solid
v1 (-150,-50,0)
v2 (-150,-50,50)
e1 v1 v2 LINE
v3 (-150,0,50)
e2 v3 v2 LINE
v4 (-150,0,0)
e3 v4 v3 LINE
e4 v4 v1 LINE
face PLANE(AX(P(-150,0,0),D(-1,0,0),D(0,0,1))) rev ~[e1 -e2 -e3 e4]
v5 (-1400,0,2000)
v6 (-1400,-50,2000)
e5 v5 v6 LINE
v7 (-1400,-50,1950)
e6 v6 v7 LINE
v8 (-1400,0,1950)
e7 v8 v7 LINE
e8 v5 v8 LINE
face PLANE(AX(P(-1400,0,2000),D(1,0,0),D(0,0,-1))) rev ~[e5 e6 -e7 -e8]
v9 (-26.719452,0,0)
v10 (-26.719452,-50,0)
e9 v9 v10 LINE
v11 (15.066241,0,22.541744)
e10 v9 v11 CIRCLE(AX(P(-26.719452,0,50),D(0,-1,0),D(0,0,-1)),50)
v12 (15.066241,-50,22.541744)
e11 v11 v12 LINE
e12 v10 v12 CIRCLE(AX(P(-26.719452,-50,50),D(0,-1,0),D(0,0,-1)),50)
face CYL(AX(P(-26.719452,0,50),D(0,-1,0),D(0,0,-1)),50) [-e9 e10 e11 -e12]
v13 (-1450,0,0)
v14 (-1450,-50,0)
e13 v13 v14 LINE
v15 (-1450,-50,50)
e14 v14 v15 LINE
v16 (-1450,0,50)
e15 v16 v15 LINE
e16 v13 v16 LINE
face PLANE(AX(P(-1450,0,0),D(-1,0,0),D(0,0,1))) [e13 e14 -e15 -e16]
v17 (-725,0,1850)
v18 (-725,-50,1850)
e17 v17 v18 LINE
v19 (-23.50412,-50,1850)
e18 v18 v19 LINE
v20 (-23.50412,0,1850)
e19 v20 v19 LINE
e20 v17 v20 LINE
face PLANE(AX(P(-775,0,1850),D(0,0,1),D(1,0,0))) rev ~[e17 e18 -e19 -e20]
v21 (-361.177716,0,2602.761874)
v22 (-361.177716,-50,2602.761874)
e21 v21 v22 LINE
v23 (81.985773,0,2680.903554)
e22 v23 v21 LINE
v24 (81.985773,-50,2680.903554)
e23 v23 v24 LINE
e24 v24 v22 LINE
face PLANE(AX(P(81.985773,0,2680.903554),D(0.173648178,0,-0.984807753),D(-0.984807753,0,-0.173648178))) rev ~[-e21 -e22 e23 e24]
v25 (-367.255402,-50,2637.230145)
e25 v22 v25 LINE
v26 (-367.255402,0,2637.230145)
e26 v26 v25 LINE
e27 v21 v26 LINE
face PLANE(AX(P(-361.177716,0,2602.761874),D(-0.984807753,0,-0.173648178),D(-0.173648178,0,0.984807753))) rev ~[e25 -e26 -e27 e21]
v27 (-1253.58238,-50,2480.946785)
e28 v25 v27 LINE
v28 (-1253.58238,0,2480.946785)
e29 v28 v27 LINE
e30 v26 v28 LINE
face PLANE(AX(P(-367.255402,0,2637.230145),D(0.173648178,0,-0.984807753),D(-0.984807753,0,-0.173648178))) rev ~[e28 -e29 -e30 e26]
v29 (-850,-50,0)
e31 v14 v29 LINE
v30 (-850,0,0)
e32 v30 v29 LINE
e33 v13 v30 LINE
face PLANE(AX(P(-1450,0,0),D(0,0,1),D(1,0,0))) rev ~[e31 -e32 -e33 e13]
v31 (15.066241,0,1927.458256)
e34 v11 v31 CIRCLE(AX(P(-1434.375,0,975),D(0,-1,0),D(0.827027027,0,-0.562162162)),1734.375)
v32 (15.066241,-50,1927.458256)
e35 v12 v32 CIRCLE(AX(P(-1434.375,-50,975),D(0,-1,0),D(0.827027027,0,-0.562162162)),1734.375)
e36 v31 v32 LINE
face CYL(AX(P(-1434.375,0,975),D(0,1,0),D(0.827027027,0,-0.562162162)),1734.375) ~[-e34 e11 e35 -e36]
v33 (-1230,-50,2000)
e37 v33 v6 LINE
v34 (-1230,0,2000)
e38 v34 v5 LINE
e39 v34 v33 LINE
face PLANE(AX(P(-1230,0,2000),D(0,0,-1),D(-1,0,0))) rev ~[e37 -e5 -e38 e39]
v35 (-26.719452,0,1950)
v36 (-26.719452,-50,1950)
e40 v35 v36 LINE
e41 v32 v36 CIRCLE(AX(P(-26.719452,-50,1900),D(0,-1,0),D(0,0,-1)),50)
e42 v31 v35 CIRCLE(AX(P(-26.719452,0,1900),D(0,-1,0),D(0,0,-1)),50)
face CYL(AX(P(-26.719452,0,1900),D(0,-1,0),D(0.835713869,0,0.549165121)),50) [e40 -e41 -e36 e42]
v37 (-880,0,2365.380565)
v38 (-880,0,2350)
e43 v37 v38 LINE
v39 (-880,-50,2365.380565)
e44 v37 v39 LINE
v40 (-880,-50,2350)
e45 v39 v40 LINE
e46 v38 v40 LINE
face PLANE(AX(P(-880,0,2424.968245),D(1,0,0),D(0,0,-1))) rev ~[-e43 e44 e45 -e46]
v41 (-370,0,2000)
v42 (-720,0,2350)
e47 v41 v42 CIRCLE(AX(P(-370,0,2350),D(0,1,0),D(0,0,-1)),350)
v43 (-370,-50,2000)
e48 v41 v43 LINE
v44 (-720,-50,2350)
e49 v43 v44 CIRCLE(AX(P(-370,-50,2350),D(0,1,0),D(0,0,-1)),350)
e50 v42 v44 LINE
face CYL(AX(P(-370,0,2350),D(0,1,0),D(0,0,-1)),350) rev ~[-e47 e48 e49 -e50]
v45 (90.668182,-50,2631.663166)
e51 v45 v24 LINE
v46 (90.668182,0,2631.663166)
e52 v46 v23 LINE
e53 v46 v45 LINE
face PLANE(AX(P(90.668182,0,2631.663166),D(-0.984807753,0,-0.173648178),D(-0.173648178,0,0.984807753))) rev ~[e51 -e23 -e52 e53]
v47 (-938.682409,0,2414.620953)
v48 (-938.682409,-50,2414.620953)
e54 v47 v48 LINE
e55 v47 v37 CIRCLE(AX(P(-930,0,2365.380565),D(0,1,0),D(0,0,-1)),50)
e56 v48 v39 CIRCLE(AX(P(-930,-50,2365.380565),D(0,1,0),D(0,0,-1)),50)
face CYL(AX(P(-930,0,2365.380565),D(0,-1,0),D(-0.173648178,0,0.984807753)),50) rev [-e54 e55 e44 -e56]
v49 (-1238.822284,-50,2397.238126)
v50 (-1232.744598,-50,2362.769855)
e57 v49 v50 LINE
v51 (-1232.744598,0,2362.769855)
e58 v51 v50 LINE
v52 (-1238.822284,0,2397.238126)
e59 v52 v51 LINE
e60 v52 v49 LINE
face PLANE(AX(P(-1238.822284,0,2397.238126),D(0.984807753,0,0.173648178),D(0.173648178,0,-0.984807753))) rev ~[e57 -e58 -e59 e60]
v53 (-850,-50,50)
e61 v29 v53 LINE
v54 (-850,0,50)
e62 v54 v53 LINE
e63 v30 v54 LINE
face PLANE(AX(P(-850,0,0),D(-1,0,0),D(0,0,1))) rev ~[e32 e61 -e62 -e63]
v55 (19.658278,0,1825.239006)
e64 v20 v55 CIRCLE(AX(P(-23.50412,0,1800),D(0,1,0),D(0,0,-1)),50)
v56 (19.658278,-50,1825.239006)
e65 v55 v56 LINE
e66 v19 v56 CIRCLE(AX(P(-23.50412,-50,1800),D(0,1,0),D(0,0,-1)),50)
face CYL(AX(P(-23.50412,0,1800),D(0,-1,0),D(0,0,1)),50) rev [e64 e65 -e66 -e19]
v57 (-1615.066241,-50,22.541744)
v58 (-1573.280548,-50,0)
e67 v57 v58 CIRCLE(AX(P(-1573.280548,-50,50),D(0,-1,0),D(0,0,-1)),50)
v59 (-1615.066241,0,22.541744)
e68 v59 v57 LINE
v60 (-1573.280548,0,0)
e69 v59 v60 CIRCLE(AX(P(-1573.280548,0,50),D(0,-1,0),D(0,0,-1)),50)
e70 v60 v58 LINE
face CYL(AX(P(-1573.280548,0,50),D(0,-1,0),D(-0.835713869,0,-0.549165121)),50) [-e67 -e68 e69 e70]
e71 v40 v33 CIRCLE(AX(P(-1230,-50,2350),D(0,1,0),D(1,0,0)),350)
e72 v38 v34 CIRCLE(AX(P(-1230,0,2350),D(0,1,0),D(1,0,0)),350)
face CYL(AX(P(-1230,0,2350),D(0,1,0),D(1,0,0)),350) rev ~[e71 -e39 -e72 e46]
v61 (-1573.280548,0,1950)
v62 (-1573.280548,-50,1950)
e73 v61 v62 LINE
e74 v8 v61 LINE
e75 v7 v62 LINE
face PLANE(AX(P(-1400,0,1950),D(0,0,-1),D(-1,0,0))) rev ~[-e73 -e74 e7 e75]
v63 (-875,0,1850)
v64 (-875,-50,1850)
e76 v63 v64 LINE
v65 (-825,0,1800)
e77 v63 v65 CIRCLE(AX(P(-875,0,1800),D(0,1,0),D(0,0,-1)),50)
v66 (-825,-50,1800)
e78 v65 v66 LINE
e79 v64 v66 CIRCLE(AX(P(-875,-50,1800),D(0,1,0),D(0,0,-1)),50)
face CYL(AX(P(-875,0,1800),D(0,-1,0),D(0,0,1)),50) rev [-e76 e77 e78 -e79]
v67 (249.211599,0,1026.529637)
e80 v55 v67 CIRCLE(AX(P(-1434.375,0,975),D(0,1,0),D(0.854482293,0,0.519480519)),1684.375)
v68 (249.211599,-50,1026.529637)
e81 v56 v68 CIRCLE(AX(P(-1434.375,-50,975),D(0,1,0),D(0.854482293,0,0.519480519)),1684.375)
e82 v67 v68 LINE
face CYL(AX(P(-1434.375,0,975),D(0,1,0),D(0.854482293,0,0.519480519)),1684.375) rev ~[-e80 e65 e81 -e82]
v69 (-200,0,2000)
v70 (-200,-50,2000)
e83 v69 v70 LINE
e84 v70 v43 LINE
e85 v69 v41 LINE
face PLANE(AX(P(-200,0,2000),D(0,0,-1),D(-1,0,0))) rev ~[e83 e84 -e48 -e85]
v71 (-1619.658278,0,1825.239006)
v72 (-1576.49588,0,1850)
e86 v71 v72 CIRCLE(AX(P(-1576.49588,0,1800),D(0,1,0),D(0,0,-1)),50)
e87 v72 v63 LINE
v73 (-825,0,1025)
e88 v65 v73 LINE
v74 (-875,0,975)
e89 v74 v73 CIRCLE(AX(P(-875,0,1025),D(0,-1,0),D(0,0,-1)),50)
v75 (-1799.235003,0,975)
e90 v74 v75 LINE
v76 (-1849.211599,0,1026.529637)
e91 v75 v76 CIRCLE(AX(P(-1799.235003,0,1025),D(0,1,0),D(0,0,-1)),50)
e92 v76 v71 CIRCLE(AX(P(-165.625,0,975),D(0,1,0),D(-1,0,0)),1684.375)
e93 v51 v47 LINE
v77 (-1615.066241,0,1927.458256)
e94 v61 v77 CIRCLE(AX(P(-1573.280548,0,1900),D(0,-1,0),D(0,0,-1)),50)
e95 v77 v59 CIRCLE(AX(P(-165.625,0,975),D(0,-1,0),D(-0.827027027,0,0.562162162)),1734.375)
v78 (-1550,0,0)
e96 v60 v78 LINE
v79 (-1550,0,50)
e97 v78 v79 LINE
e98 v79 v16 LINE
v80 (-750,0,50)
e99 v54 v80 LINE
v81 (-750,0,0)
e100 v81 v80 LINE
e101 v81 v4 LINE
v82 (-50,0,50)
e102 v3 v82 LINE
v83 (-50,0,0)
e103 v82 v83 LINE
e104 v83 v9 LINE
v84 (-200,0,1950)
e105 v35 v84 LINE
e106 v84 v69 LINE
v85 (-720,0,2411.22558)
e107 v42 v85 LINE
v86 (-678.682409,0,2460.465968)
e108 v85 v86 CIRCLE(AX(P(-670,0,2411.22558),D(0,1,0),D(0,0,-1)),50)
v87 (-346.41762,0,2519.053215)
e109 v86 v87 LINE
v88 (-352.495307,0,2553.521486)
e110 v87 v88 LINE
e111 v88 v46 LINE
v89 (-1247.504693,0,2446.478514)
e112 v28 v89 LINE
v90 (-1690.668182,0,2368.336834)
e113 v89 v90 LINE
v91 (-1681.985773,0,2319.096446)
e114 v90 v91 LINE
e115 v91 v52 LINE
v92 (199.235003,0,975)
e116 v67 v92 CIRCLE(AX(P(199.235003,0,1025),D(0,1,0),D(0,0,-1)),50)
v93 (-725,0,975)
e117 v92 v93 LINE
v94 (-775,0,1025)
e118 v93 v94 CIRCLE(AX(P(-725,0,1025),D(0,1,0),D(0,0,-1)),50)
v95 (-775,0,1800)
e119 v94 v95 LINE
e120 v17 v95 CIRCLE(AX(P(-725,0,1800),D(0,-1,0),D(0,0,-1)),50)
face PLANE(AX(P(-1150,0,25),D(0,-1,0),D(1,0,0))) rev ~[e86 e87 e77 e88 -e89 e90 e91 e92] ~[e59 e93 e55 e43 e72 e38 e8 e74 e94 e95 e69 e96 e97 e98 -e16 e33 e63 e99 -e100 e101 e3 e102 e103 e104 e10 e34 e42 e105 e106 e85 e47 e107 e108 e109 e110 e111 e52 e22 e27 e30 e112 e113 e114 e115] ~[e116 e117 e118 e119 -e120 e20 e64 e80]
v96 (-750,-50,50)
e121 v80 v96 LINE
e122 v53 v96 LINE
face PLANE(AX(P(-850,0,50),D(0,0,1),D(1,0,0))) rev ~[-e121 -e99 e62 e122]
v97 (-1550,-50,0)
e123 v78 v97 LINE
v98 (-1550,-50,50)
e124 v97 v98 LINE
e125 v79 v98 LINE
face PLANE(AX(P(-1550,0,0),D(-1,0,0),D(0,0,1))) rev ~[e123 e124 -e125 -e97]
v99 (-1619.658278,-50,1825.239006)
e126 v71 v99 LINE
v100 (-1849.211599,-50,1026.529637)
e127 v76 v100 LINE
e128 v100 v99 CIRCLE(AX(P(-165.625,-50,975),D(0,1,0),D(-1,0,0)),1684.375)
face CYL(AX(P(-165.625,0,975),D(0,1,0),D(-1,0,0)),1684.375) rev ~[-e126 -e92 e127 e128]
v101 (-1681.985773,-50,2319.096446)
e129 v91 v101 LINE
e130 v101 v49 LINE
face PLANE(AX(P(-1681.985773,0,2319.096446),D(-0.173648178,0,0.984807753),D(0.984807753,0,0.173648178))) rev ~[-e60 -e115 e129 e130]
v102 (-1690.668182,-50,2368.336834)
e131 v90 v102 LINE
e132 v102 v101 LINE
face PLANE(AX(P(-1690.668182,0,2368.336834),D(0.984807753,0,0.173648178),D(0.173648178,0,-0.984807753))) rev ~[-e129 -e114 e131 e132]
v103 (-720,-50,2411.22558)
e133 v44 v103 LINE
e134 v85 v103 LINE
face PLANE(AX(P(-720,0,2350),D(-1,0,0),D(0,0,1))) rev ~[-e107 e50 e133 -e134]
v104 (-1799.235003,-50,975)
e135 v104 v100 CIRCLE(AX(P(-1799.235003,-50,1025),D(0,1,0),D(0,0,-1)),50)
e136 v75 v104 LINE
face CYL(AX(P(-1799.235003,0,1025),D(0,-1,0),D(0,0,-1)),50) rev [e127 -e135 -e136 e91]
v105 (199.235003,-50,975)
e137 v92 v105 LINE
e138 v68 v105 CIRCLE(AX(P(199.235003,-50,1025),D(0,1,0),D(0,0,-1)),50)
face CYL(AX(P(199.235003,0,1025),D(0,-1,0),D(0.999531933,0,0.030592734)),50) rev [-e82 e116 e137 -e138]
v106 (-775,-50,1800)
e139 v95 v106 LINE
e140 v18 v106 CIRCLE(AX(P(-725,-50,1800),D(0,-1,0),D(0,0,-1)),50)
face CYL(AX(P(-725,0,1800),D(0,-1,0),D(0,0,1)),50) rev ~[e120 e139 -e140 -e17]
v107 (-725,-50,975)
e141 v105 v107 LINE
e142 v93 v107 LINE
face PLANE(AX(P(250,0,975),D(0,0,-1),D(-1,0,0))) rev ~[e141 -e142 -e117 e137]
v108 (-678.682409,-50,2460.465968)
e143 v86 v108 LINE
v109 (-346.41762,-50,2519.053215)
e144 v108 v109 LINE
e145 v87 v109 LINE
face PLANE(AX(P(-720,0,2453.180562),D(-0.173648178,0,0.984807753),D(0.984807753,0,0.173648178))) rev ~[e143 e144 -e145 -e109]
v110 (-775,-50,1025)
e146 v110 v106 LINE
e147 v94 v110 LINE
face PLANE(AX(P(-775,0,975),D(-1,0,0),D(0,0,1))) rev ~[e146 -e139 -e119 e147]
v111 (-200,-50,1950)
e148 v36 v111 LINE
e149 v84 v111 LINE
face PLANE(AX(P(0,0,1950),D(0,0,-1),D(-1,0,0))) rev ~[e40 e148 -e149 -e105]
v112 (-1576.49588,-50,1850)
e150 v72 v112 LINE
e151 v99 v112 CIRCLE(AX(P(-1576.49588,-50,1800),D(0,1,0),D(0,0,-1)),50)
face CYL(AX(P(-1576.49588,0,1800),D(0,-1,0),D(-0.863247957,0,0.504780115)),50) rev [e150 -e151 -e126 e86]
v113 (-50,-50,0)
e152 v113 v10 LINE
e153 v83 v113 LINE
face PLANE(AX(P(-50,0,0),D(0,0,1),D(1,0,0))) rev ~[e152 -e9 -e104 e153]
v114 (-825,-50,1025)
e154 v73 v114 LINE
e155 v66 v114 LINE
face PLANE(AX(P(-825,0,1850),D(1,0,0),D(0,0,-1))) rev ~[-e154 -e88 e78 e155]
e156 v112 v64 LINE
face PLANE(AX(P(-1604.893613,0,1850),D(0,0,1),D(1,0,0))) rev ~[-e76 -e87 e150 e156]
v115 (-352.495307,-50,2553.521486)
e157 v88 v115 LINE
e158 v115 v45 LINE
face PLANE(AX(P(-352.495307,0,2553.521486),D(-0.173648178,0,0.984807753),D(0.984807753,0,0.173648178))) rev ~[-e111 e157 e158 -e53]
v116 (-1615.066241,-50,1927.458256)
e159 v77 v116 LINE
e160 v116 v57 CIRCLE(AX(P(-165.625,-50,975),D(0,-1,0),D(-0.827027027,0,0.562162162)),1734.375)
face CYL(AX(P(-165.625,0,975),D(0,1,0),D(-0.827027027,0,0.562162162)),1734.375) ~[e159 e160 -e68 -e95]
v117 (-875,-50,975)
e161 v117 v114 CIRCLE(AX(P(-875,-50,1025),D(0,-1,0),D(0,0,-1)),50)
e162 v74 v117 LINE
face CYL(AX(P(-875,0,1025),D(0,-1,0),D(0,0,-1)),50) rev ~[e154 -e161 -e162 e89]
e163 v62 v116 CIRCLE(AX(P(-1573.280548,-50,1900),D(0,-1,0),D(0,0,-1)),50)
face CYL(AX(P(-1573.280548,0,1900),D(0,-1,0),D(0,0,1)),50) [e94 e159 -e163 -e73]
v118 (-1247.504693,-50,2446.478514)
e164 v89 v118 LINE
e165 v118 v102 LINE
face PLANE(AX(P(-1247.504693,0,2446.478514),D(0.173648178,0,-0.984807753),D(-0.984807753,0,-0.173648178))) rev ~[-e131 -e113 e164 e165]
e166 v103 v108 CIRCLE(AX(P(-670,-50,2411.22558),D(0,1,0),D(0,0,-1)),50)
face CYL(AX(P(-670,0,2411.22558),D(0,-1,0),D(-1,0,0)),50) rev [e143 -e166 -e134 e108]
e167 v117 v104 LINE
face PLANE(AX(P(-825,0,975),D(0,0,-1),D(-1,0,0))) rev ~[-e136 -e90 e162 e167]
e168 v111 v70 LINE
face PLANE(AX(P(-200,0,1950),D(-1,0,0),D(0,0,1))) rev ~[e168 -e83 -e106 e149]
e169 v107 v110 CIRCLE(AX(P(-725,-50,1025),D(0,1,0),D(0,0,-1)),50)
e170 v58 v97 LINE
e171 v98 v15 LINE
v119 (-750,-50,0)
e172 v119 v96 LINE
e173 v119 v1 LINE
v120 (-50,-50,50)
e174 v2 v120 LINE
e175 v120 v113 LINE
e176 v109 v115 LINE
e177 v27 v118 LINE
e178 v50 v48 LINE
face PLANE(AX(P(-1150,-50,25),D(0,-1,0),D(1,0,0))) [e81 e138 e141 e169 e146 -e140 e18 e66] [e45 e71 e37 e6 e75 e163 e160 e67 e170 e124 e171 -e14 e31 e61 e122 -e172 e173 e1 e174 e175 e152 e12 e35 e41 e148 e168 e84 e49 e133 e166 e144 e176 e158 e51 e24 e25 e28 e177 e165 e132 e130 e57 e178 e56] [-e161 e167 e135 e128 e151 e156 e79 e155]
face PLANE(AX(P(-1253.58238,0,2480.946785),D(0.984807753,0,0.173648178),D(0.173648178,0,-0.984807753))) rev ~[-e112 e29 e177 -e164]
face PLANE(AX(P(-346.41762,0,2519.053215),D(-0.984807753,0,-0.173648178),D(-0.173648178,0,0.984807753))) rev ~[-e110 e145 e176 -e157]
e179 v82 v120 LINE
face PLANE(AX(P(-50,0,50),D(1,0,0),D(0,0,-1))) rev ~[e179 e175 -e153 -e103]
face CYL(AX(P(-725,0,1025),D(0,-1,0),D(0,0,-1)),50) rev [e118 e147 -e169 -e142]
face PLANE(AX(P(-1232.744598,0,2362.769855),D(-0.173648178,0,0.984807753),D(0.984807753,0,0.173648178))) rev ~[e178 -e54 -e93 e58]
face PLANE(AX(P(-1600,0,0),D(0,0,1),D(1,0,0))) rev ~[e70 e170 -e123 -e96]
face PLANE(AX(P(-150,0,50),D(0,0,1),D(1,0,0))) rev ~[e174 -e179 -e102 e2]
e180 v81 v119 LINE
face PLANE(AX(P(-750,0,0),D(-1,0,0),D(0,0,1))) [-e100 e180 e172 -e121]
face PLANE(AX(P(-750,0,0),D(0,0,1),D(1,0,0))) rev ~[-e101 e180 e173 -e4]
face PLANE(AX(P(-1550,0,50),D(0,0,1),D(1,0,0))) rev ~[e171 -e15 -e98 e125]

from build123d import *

# Parameters (mm, degrees)
F0_W     = 600
F0_H     = 50
F0_W_2   = 25
F0_H_2   = 875
F0_W_3   = 775
F1_DEPTH = 50
F2_R     = 50


with BuildPart() as f1:
    # F0 (on Front) → F1 (new body)
    with BuildSketch(Plane.XZ):
        with Locations((-1150, 25)):
            Rectangle(F0_W, F0_H)
        with Locations((-450, 25)):
            Rectangle(F0_W, F0_H)
        with BuildLine():
            Line((-825, 925), (-1600, 925))
            Line((-1600, 925), (-1600, 92.0008493776))
            ThreePointArc((-1600.0000000001, 92.0008493776), (-1586.7954423389, 70.9017119543), (-1573.2805475772, 50))
            Line((-1573.2805475772, 50), (-1550, 50))
            Line((-1550, 50), (-1450, 50))
            Line((-1450, 50), (-850, 50))
            Line((-850, 50), (-800, 50))
            Line((-800, 50), (-750, 50))
            Line((-750, 50), (-150, 50))
            Line((-150, 50), (-50, 50))
            Line((-50, 50), (-26.7194524228, 50))
            ThreePointArc((-26.7194524228, 50), (-13.2045576611, 70.9017119543), (1e-10, 92.0008493776))
            Line((0, 92.0008493776), (0, 925))
            Line((0, 925), (-775, 925))
            Line((-775, 925), (-825, 925))
        make_face()
        with BuildLine():
            Line((-1849.2577214167, 925), (-1899.279129469, 925))
            ThreePointArc((-1899.279129469, 925), (-1815.7790507756, 441.1008996693), (-1600, 0))
            Line((-1600, 0), (-1600, 92.0008493776))
            ThreePointArc((-1600.0000000001, 92.0008493776), (-1779.3055551094, 492.139557753), (-1849.2577214167, 925))
        make_face()
        Polygon((-1400, 1950), (-1600, 1950), (-1600, 1850), (-825, 1850), (-800, 1850), (-800, 1950), align=None)
        Polygon((-200, 1950), (-800, 1950), (-800, 1850), (-775, 1850), (0, 1850), (0, 1950), align=None)
        with BuildLine():
            ThreePointArc((0, 0), (215.7790507756, 441.1008996693), (299.279129469, 925))
            Line((299.279129469, 925), (249.2577214167, 925))
            ThreePointArc((249.2577214167, 925), (179.3055551094, 492.139557753), (1e-10, 92.0008493776))
            Line((0, 92.0008493776), (0, 0))
        make_face()
        with BuildLine():
            Line((-1400, 2000), (-1400, 1950))
            Line((-1400, 1950), (-800, 1950))
            Line((-800, 1950), (-200, 1950))
            Line((-200, 1950), (-200, 2000))
            Line((-200, 2000), (-370, 2000))
            ThreePointArc((-370, 2000), (-617.4873734153, 2102.5126265847), (-720, 2350))
            Line((-720, 2350), (-720, 2453.1805617435))
            Line((-720, 2453.1805617435), (-880, 2424.9682448302))
            Line((-880, 2424.9682448302), (-880, 2350))
            ThreePointArc((-880, 2350), (-982.5126265847, 2102.5126265847), (-1230, 2000))
            Line((-1230, 2000), (-1400, 2000))
        make_face()
        with Locations((-812.5, 1412.5)):
            Rectangle(F0_W_2, F0_H_2)
        with Locations((-787.5, 1412.5)):
            Rectangle(F0_W_2, F0_H_2)
        with BuildLine():
            Line((-1185.1073630845, 2406.7095161216), (-880, 2460.5081762462))
            Line((-880, 2460.5081762462), (-880, 2485.8938415433))
            Line((-880, 2485.8938415433), (-1184.0750236748, 2432.2772107099))
            ThreePointArc((-1184.0750236748, 2432.2772107099), (-1183.39180697, 2427.0876646147), (-1183.1634888555, 2421.8583200499))
            ThreePointArc((-1183.1634888555, 2421.8583200499), (-1183.6514415614, 2414.2218138547), (-1185.1073630845, 2406.7095161216))
        make_face()
        with BuildLine():
            Line((-1243.1634888555, 2421.8583200499), (-1184.0750236748, 2432.2772107099))
            ThreePointArc((-1184.0750236748, 2432.2772107099), (-1187.6557386402, 2444.6374698592), (-1193.7897719678, 2455.9499037722))
            Line((-1193.7897719678, 2455.9499037722), (-1247.5046932972, 2446.4785138752))
            Line((-1247.5046932972, 2446.4785138752), (-1243.1634888555, 2421.8583200499))
        make_face()
        with BuildLine():
            Line((-1184.0750236748, 2432.2772107099), (-880, 2485.8938415433))
            Line((-880, 2485.8938415433), (-880, 2500))
            Line((-880, 2500), (-800, 2500))
            Line((-800, 2500), (-804.3412044417, 2524.6201938253))
            Line((-804.3412044417, 2524.6201938253), (-1193.7897719678, 2455.9499037722))
            ThreePointArc((-1193.7897719678, 2455.9499037722), (-1187.6557386402, 2444.6374698592), (-1184.0750236748, 2432.2772107099))
        make_face()
        with BuildLine():
            Line((-1232.7445981955, 2362.7698548691), (-880, 2424.9682448302))
            Line((-880, 2424.9682448302), (-880, 2460.5081762462))
            Line((-880, 2460.5081762462), (-1185.1073630845, 2406.7095161216))
            ThreePointArc((-1185.1073630845, 2406.7095161216), (-1202.4832672908, 2377.7548102865), (-1232.7445981955, 2362.7698548691))
        make_face()
        Polygon((-880, 2485.8938415433), (-880, 2460.5081762462), (-720, 2488.7204931595), (-720, 2500), (-800, 2500), align=None)
        with BuildLine():
            ThreePointArc((-414.8926369155, 2593.2904838784), (-416.7876625009, 2580.5623102494), (-415.9249763252, 2567.7227892901))
            Line((-415.9249763252, 2567.7227892901), (-356.8365111445, 2578.1416799501))
            Line((-356.8365111445, 2578.1416799501), (-361.1777155862, 2602.7618737754))
            Line((-361.1777155862, 2602.7618737754), (-414.8926369155, 2593.2904838784))
        make_face()
        with BuildLine():
            Line((-720, 2500), (-720, 2488.7204931595))
            Line((-720, 2488.7204931595), (-406.2102280322, 2544.0500962278))
            ThreePointArc((-406.2102280322, 2544.0500962278), (-412.3442613598, 2555.3625301408), (-415.9249763252, 2567.7227892901))
            Line((-415.9249763252, 2567.7227892901), (-800, 2500))
            Line((-800, 2500), (-720, 2500))
        make_face()
        Polygon((-880, 2500), (-880, 2485.8938415433), (-800, 2500), align=None)
        with BuildLine():
            Line((-810.41889066, 2559.0884651807), (-804.3412044417, 2524.6201938253))
            Line((-804.3412044417, 2524.6201938253), (-414.8926369155, 2593.2904838784))
            ThreePointArc((-414.8926369155, 2593.2904838784), (-397.5167327092, 2622.2451897135), (-367.2554018045, 2637.2301451309))
            Line((-367.2554018045, 2637.2301451309), (-810.41889066, 2559.0884651807))
        make_face()
        with BuildLine():
            Line((-804.3412044417, 2524.6201938253), (-800, 2500))
            Line((-800, 2500), (-415.9249763252, 2567.7227892901))
            ThreePointArc((-415.9249763252, 2567.7227892901), (-416.7876625009, 2580.5623102494), (-414.8926369155, 2593.2904838784))
            Line((-414.8926369155, 2593.2904838784), (-804.3412044417, 2524.6201938253))
        make_face()
        with BuildLine():
            ThreePointArc((-1253.5823795155, 2480.9467852306), (-1220.0208735696, 2477.2155179354), (-1193.7897719678, 2455.9499037722))
            Line((-1193.7897719678, 2455.9499037722), (-804.3412044417, 2524.6201938253))
            Line((-804.3412044417, 2524.6201938253), (-810.41889066, 2559.0884651807))
            Line((-810.41889066, 2559.0884651807), (-1253.5823795155, 2480.9467852306))
        make_face()
        with BuildLine():
            Line((-720, 2488.7204931595), (-720, 2453.1805617435))
            Line((-720, 2453.1805617435), (-346.4176204845, 2519.0532147694))
            ThreePointArc((-346.4176204845, 2519.0532147694), (-379.9791264304, 2522.7844820646), (-406.2102280322, 2544.0500962278))
            Line((-406.2102280322, 2544.0500962278), (-720, 2488.7204931595))
        make_face()
        Polygon((-880, 2460.5081762462), (-880, 2424.9682448302), (-720, 2453.1805617435), (-720, 2488.7204931595), align=None)
        with BuildLine():
            Line((-1238.8222844138, 2397.2381262246), (-1185.1073630845, 2406.7095161216))
            ThreePointArc((-1185.1073630845, 2406.7095161216), (-1183.6514415614, 2414.2218138547), (-1183.1634888555, 2421.8583200499))
            ThreePointArc((-1183.1634888555, 2421.8583200499), (-1183.39180697, 2427.0876646147), (-1184.0750236748, 2432.2772107099))
            Line((-1184.0750236748, 2432.2772107099), (-1243.1634888555, 2421.8583200499))
            Line((-1243.1634888555, 2421.8583200499), (-1238.8222844138, 2397.2381262246))
        make_face()
        with BuildLine():
            ThreePointArc((-415.9249763252, 2567.7227892901), (-412.3442613598, 2555.3625301408), (-406.2102280322, 2544.0500962278))
            Line((-406.2102280322, 2544.0500962278), (-352.4953067028, 2553.5214861248))
            Line((-352.4953067028, 2553.5214861248), (-356.8365111445, 2578.1416799501))
            Line((-356.8365111445, 2578.1416799501), (-415.9249763252, 2567.7227892901))
        make_face()
        with BuildLine():
            Line((-1681.9857732693, 2319.0964462745), (-1292.5372057432, 2387.7667363276))
            ThreePointArc((-1292.5372057432, 2387.7667363276), (-1302.2519540362, 2411.4394293899), (-1301.2196146265, 2437.0071239782))
            Line((-1301.2196146265, 2437.0071239782), (-1690.6681821527, 2368.3368339251))
            Line((-1690.6681821527, 2368.3368339251), (-1681.9857732693, 2319.0964462745))
        make_face()
        with BuildLine():
            Line((-1247.5046932972, 2446.4785138752), (-1193.7897719678, 2455.9499037722))
            ThreePointArc((-1193.7897719678, 2455.9499037722), (-1220.0208735696, 2477.2155179354), (-1253.5823795155, 2480.9467852306))
            Line((-1253.5823795155, 2480.9467852306), (-1247.5046932972, 2446.4785138752))
        make_face()
        with BuildLine():
            ThreePointArc((-406.2102280322, 2544.0500962278), (-379.9791264304, 2522.7844820646), (-346.4176204845, 2519.0532147694))
            Line((-346.4176204845, 2519.0532147694), (-352.4953067028, 2553.5214861248))
            Line((-352.4953067028, 2553.5214861248), (-406.2102280322, 2544.0500962278))
        make_face()
        with BuildLine():
            ThreePointArc((-296.8365111445, 2578.1416799501), (-297.3244638504, 2570.5051737549), (-298.7803853735, 2562.9928760218))
            Line((-298.7803853735, 2562.9928760218), (90.6681821527, 2631.6631660749))
            Line((90.6681821527, 2631.6631660749), (81.9857732693, 2680.9035537255))
            Line((81.9857732693, 2680.9035537255), (-307.4627942568, 2612.2332636724))
            ThreePointArc((-307.4627942568, 2612.2332636724), (-299.5546509562, 2595.9963290189), (-296.8365111445, 2578.1416799501))
        make_face()
        with BuildLine():
            ThreePointArc((-1301.2196146265, 2437.0071239782), (-1302.2519540362, 2411.4394293899), (-1292.5372057432, 2387.7667363276))
            Line((-1292.5372057432, 2387.7667363276), (-1238.8222844138, 2397.2381262246))
            Line((-1238.8222844138, 2397.2381262246), (-1243.1634888555, 2421.8583200499))
            Line((-1243.1634888555, 2421.8583200499), (-1247.5046932972, 2446.4785138752))
            Line((-1247.5046932972, 2446.4785138752), (-1301.2196146265, 2437.0071239782))
        make_face()
        with BuildLine():
            Line((-352.4953067028, 2553.5214861248), (-298.7803853735, 2562.9928760218))
            ThreePointArc((-298.7803853735, 2562.9928760218), (-297.3244638504, 2570.5051737549), (-296.8365111445, 2578.1416799501))
            ThreePointArc((-296.8365111445, 2578.1416799501), (-299.5546509562, 2595.9963290189), (-307.4627942568, 2612.2332636724))
            Line((-307.4627942568, 2612.2332636724), (-361.1777155862, 2602.7618737754))
            Line((-361.1777155862, 2602.7618737754), (-356.8365111445, 2578.1416799501))
            Line((-356.8365111445, 2578.1416799501), (-352.4953067028, 2553.5214861248))
        make_face()
        with BuildLine():
            ThreePointArc((-367.2554018045, 2637.2301451309), (-397.5167327092, 2622.2451897135), (-414.8926369155, 2593.2904838784))
            Line((-414.8926369155, 2593.2904838784), (-361.1777155862, 2602.7618737754))
            Line((-361.1777155862, 2602.7618737754), (-367.2554018045, 2637.2301451309))
        make_face()
        with BuildLine():
            Line((-1238.8222844138, 2397.2381262246), (-1232.7445981955, 2362.7698548691))
            ThreePointArc((-1232.7445981955, 2362.7698548691), (-1202.4832672908, 2377.7548102865), (-1185.1073630845, 2406.7095161216))
            Line((-1185.1073630845, 2406.7095161216), (-1238.8222844138, 2397.2381262246))
        make_face()
        with BuildLine():
            Line((-1600, 925), (-1849.2577214167, 925))
            ThreePointArc((-1849.2577214167, 925), (-1779.3055551094, 492.139557753), (-1600.0000000001, 92.0008493776))
            Line((-1600, 92.0008493776), (-1600, 925))
        make_face()
        with BuildLine():
            ThreePointArc((1e-10, 92.0008493776), (179.3055551094, 492.139557753), (249.2577214167, 925))
            Line((249.2577214167, 925), (0, 925))
            Line((0, 925), (0, 92.0008493776))
        make_face()
        with BuildLine():
            ThreePointArc((299.279129469, 925), (230.4848713679, 1461.1051834057), (0, 1950))
            Line((0, 1950), (0, 1850))
            Line((0, 1850), (4.8936130896, 1850))
            ThreePointArc((4.8936130896, 1850), (187.5663076307, 1429.340769936), (250, 975))
            ThreePointArc((250, 975), (249.8144201308, 949.9972452643), (249.2577214167, 925))
            Line((249.2577214167, 925), (299.279129469, 925))
        make_face()
        with BuildLine():
            Line((-1600, 1850), (-1600, 1950))
            ThreePointArc((-1600, 1950), (-1830.4848713679, 1461.1051834057), (-1899.279129469, 925))
            Line((-1899.279129469, 925), (-1849.2577214167, 925))
            ThreePointArc((-1849.2577214167, 925), (-1849.8144201308, 949.9972452643), (-1850, 975))
            ThreePointArc((-1850, 975), (-1787.5663076307, 1429.340769936), (-1604.8936130896, 1850))
            Line((-1604.8936130896, 1850), (-1600, 1850))
        make_face()
        Polygon((-800, 975), (-825, 975), (-825, 925), (-775, 925), (-775, 975), align=None)
        with BuildLine():
            Line((-50, 0), (0, 0))
            Line((0, 0), (0, 92.0008493776))
            ThreePointArc((1e-10, 92.0008493776), (-13.2045576611, 70.9017119543), (-26.7194524228, 50))
            Line((-26.7194524228, 50), (-50, 50))
            Line((-50, 50), (-50, 0))
        make_face()
        with BuildLine():
            Line((-1600, 92.0008493776), (-1600, 0))
            Line((-1600, 0), (-1550, 0))
            Line((-1550, 0), (-1550, 50))
            Line((-1550, 50), (-1573.2805475772, 50))
            ThreePointArc((-1573.2805475772, 50), (-1586.7954423389, 70.9017119543), (-1600.0000000001, 92.0008493776))
        make_face()
        with Locations((-1212.5, 950)):
            Rectangle(F0_W_3, F0_H)
        with Locations((-387.5, 950)):
            Rectangle(F0_W_3, F0_H)
        with BuildLine():
            Line((-1600, 925), (-1600, 975))
            Line((-1600, 975), (-1850, 975))
            ThreePointArc((-1850, 975), (-1849.8144201308, 949.9972452643), (-1849.2577214167, 925))
            Line((-1849.2577214167, 925), (-1600, 925))
        make_face()
        with BuildLine():
            Line((250, 975), (0, 975))
            Line((0, 975), (0, 925))
            Line((0, 925), (249.2577214167, 925))
            ThreePointArc((249.2577214167, 925), (249.8144201308, 949.9972452643), (250, 975))
        make_face()
    extrude(amount=F1_DEPTH)

    # F2
    f2_edges = [f1.edges().sort_by_distance(p)[0] for p in [
        (-1604.893613, -25, 1850),
        (-825, -25, 1850),
        (-1850, -25, 975),
        (-825, -25, 975),
        (-775, -25, 1850),
        (-775, -25, 975),
        (250, -25, 975),
        (4.893613, -25, 1850),
        (0, -25, 1950),
        (-1600, -25, 1950),
        (-1600, -25, 0),
        (0, -25, 0),
        (-880, -25, 2424.968245),
        (-720, -25, 2453.180562),
    ]]
    fillet(f2_edges, radius=F2_R)


solid = f1.part
